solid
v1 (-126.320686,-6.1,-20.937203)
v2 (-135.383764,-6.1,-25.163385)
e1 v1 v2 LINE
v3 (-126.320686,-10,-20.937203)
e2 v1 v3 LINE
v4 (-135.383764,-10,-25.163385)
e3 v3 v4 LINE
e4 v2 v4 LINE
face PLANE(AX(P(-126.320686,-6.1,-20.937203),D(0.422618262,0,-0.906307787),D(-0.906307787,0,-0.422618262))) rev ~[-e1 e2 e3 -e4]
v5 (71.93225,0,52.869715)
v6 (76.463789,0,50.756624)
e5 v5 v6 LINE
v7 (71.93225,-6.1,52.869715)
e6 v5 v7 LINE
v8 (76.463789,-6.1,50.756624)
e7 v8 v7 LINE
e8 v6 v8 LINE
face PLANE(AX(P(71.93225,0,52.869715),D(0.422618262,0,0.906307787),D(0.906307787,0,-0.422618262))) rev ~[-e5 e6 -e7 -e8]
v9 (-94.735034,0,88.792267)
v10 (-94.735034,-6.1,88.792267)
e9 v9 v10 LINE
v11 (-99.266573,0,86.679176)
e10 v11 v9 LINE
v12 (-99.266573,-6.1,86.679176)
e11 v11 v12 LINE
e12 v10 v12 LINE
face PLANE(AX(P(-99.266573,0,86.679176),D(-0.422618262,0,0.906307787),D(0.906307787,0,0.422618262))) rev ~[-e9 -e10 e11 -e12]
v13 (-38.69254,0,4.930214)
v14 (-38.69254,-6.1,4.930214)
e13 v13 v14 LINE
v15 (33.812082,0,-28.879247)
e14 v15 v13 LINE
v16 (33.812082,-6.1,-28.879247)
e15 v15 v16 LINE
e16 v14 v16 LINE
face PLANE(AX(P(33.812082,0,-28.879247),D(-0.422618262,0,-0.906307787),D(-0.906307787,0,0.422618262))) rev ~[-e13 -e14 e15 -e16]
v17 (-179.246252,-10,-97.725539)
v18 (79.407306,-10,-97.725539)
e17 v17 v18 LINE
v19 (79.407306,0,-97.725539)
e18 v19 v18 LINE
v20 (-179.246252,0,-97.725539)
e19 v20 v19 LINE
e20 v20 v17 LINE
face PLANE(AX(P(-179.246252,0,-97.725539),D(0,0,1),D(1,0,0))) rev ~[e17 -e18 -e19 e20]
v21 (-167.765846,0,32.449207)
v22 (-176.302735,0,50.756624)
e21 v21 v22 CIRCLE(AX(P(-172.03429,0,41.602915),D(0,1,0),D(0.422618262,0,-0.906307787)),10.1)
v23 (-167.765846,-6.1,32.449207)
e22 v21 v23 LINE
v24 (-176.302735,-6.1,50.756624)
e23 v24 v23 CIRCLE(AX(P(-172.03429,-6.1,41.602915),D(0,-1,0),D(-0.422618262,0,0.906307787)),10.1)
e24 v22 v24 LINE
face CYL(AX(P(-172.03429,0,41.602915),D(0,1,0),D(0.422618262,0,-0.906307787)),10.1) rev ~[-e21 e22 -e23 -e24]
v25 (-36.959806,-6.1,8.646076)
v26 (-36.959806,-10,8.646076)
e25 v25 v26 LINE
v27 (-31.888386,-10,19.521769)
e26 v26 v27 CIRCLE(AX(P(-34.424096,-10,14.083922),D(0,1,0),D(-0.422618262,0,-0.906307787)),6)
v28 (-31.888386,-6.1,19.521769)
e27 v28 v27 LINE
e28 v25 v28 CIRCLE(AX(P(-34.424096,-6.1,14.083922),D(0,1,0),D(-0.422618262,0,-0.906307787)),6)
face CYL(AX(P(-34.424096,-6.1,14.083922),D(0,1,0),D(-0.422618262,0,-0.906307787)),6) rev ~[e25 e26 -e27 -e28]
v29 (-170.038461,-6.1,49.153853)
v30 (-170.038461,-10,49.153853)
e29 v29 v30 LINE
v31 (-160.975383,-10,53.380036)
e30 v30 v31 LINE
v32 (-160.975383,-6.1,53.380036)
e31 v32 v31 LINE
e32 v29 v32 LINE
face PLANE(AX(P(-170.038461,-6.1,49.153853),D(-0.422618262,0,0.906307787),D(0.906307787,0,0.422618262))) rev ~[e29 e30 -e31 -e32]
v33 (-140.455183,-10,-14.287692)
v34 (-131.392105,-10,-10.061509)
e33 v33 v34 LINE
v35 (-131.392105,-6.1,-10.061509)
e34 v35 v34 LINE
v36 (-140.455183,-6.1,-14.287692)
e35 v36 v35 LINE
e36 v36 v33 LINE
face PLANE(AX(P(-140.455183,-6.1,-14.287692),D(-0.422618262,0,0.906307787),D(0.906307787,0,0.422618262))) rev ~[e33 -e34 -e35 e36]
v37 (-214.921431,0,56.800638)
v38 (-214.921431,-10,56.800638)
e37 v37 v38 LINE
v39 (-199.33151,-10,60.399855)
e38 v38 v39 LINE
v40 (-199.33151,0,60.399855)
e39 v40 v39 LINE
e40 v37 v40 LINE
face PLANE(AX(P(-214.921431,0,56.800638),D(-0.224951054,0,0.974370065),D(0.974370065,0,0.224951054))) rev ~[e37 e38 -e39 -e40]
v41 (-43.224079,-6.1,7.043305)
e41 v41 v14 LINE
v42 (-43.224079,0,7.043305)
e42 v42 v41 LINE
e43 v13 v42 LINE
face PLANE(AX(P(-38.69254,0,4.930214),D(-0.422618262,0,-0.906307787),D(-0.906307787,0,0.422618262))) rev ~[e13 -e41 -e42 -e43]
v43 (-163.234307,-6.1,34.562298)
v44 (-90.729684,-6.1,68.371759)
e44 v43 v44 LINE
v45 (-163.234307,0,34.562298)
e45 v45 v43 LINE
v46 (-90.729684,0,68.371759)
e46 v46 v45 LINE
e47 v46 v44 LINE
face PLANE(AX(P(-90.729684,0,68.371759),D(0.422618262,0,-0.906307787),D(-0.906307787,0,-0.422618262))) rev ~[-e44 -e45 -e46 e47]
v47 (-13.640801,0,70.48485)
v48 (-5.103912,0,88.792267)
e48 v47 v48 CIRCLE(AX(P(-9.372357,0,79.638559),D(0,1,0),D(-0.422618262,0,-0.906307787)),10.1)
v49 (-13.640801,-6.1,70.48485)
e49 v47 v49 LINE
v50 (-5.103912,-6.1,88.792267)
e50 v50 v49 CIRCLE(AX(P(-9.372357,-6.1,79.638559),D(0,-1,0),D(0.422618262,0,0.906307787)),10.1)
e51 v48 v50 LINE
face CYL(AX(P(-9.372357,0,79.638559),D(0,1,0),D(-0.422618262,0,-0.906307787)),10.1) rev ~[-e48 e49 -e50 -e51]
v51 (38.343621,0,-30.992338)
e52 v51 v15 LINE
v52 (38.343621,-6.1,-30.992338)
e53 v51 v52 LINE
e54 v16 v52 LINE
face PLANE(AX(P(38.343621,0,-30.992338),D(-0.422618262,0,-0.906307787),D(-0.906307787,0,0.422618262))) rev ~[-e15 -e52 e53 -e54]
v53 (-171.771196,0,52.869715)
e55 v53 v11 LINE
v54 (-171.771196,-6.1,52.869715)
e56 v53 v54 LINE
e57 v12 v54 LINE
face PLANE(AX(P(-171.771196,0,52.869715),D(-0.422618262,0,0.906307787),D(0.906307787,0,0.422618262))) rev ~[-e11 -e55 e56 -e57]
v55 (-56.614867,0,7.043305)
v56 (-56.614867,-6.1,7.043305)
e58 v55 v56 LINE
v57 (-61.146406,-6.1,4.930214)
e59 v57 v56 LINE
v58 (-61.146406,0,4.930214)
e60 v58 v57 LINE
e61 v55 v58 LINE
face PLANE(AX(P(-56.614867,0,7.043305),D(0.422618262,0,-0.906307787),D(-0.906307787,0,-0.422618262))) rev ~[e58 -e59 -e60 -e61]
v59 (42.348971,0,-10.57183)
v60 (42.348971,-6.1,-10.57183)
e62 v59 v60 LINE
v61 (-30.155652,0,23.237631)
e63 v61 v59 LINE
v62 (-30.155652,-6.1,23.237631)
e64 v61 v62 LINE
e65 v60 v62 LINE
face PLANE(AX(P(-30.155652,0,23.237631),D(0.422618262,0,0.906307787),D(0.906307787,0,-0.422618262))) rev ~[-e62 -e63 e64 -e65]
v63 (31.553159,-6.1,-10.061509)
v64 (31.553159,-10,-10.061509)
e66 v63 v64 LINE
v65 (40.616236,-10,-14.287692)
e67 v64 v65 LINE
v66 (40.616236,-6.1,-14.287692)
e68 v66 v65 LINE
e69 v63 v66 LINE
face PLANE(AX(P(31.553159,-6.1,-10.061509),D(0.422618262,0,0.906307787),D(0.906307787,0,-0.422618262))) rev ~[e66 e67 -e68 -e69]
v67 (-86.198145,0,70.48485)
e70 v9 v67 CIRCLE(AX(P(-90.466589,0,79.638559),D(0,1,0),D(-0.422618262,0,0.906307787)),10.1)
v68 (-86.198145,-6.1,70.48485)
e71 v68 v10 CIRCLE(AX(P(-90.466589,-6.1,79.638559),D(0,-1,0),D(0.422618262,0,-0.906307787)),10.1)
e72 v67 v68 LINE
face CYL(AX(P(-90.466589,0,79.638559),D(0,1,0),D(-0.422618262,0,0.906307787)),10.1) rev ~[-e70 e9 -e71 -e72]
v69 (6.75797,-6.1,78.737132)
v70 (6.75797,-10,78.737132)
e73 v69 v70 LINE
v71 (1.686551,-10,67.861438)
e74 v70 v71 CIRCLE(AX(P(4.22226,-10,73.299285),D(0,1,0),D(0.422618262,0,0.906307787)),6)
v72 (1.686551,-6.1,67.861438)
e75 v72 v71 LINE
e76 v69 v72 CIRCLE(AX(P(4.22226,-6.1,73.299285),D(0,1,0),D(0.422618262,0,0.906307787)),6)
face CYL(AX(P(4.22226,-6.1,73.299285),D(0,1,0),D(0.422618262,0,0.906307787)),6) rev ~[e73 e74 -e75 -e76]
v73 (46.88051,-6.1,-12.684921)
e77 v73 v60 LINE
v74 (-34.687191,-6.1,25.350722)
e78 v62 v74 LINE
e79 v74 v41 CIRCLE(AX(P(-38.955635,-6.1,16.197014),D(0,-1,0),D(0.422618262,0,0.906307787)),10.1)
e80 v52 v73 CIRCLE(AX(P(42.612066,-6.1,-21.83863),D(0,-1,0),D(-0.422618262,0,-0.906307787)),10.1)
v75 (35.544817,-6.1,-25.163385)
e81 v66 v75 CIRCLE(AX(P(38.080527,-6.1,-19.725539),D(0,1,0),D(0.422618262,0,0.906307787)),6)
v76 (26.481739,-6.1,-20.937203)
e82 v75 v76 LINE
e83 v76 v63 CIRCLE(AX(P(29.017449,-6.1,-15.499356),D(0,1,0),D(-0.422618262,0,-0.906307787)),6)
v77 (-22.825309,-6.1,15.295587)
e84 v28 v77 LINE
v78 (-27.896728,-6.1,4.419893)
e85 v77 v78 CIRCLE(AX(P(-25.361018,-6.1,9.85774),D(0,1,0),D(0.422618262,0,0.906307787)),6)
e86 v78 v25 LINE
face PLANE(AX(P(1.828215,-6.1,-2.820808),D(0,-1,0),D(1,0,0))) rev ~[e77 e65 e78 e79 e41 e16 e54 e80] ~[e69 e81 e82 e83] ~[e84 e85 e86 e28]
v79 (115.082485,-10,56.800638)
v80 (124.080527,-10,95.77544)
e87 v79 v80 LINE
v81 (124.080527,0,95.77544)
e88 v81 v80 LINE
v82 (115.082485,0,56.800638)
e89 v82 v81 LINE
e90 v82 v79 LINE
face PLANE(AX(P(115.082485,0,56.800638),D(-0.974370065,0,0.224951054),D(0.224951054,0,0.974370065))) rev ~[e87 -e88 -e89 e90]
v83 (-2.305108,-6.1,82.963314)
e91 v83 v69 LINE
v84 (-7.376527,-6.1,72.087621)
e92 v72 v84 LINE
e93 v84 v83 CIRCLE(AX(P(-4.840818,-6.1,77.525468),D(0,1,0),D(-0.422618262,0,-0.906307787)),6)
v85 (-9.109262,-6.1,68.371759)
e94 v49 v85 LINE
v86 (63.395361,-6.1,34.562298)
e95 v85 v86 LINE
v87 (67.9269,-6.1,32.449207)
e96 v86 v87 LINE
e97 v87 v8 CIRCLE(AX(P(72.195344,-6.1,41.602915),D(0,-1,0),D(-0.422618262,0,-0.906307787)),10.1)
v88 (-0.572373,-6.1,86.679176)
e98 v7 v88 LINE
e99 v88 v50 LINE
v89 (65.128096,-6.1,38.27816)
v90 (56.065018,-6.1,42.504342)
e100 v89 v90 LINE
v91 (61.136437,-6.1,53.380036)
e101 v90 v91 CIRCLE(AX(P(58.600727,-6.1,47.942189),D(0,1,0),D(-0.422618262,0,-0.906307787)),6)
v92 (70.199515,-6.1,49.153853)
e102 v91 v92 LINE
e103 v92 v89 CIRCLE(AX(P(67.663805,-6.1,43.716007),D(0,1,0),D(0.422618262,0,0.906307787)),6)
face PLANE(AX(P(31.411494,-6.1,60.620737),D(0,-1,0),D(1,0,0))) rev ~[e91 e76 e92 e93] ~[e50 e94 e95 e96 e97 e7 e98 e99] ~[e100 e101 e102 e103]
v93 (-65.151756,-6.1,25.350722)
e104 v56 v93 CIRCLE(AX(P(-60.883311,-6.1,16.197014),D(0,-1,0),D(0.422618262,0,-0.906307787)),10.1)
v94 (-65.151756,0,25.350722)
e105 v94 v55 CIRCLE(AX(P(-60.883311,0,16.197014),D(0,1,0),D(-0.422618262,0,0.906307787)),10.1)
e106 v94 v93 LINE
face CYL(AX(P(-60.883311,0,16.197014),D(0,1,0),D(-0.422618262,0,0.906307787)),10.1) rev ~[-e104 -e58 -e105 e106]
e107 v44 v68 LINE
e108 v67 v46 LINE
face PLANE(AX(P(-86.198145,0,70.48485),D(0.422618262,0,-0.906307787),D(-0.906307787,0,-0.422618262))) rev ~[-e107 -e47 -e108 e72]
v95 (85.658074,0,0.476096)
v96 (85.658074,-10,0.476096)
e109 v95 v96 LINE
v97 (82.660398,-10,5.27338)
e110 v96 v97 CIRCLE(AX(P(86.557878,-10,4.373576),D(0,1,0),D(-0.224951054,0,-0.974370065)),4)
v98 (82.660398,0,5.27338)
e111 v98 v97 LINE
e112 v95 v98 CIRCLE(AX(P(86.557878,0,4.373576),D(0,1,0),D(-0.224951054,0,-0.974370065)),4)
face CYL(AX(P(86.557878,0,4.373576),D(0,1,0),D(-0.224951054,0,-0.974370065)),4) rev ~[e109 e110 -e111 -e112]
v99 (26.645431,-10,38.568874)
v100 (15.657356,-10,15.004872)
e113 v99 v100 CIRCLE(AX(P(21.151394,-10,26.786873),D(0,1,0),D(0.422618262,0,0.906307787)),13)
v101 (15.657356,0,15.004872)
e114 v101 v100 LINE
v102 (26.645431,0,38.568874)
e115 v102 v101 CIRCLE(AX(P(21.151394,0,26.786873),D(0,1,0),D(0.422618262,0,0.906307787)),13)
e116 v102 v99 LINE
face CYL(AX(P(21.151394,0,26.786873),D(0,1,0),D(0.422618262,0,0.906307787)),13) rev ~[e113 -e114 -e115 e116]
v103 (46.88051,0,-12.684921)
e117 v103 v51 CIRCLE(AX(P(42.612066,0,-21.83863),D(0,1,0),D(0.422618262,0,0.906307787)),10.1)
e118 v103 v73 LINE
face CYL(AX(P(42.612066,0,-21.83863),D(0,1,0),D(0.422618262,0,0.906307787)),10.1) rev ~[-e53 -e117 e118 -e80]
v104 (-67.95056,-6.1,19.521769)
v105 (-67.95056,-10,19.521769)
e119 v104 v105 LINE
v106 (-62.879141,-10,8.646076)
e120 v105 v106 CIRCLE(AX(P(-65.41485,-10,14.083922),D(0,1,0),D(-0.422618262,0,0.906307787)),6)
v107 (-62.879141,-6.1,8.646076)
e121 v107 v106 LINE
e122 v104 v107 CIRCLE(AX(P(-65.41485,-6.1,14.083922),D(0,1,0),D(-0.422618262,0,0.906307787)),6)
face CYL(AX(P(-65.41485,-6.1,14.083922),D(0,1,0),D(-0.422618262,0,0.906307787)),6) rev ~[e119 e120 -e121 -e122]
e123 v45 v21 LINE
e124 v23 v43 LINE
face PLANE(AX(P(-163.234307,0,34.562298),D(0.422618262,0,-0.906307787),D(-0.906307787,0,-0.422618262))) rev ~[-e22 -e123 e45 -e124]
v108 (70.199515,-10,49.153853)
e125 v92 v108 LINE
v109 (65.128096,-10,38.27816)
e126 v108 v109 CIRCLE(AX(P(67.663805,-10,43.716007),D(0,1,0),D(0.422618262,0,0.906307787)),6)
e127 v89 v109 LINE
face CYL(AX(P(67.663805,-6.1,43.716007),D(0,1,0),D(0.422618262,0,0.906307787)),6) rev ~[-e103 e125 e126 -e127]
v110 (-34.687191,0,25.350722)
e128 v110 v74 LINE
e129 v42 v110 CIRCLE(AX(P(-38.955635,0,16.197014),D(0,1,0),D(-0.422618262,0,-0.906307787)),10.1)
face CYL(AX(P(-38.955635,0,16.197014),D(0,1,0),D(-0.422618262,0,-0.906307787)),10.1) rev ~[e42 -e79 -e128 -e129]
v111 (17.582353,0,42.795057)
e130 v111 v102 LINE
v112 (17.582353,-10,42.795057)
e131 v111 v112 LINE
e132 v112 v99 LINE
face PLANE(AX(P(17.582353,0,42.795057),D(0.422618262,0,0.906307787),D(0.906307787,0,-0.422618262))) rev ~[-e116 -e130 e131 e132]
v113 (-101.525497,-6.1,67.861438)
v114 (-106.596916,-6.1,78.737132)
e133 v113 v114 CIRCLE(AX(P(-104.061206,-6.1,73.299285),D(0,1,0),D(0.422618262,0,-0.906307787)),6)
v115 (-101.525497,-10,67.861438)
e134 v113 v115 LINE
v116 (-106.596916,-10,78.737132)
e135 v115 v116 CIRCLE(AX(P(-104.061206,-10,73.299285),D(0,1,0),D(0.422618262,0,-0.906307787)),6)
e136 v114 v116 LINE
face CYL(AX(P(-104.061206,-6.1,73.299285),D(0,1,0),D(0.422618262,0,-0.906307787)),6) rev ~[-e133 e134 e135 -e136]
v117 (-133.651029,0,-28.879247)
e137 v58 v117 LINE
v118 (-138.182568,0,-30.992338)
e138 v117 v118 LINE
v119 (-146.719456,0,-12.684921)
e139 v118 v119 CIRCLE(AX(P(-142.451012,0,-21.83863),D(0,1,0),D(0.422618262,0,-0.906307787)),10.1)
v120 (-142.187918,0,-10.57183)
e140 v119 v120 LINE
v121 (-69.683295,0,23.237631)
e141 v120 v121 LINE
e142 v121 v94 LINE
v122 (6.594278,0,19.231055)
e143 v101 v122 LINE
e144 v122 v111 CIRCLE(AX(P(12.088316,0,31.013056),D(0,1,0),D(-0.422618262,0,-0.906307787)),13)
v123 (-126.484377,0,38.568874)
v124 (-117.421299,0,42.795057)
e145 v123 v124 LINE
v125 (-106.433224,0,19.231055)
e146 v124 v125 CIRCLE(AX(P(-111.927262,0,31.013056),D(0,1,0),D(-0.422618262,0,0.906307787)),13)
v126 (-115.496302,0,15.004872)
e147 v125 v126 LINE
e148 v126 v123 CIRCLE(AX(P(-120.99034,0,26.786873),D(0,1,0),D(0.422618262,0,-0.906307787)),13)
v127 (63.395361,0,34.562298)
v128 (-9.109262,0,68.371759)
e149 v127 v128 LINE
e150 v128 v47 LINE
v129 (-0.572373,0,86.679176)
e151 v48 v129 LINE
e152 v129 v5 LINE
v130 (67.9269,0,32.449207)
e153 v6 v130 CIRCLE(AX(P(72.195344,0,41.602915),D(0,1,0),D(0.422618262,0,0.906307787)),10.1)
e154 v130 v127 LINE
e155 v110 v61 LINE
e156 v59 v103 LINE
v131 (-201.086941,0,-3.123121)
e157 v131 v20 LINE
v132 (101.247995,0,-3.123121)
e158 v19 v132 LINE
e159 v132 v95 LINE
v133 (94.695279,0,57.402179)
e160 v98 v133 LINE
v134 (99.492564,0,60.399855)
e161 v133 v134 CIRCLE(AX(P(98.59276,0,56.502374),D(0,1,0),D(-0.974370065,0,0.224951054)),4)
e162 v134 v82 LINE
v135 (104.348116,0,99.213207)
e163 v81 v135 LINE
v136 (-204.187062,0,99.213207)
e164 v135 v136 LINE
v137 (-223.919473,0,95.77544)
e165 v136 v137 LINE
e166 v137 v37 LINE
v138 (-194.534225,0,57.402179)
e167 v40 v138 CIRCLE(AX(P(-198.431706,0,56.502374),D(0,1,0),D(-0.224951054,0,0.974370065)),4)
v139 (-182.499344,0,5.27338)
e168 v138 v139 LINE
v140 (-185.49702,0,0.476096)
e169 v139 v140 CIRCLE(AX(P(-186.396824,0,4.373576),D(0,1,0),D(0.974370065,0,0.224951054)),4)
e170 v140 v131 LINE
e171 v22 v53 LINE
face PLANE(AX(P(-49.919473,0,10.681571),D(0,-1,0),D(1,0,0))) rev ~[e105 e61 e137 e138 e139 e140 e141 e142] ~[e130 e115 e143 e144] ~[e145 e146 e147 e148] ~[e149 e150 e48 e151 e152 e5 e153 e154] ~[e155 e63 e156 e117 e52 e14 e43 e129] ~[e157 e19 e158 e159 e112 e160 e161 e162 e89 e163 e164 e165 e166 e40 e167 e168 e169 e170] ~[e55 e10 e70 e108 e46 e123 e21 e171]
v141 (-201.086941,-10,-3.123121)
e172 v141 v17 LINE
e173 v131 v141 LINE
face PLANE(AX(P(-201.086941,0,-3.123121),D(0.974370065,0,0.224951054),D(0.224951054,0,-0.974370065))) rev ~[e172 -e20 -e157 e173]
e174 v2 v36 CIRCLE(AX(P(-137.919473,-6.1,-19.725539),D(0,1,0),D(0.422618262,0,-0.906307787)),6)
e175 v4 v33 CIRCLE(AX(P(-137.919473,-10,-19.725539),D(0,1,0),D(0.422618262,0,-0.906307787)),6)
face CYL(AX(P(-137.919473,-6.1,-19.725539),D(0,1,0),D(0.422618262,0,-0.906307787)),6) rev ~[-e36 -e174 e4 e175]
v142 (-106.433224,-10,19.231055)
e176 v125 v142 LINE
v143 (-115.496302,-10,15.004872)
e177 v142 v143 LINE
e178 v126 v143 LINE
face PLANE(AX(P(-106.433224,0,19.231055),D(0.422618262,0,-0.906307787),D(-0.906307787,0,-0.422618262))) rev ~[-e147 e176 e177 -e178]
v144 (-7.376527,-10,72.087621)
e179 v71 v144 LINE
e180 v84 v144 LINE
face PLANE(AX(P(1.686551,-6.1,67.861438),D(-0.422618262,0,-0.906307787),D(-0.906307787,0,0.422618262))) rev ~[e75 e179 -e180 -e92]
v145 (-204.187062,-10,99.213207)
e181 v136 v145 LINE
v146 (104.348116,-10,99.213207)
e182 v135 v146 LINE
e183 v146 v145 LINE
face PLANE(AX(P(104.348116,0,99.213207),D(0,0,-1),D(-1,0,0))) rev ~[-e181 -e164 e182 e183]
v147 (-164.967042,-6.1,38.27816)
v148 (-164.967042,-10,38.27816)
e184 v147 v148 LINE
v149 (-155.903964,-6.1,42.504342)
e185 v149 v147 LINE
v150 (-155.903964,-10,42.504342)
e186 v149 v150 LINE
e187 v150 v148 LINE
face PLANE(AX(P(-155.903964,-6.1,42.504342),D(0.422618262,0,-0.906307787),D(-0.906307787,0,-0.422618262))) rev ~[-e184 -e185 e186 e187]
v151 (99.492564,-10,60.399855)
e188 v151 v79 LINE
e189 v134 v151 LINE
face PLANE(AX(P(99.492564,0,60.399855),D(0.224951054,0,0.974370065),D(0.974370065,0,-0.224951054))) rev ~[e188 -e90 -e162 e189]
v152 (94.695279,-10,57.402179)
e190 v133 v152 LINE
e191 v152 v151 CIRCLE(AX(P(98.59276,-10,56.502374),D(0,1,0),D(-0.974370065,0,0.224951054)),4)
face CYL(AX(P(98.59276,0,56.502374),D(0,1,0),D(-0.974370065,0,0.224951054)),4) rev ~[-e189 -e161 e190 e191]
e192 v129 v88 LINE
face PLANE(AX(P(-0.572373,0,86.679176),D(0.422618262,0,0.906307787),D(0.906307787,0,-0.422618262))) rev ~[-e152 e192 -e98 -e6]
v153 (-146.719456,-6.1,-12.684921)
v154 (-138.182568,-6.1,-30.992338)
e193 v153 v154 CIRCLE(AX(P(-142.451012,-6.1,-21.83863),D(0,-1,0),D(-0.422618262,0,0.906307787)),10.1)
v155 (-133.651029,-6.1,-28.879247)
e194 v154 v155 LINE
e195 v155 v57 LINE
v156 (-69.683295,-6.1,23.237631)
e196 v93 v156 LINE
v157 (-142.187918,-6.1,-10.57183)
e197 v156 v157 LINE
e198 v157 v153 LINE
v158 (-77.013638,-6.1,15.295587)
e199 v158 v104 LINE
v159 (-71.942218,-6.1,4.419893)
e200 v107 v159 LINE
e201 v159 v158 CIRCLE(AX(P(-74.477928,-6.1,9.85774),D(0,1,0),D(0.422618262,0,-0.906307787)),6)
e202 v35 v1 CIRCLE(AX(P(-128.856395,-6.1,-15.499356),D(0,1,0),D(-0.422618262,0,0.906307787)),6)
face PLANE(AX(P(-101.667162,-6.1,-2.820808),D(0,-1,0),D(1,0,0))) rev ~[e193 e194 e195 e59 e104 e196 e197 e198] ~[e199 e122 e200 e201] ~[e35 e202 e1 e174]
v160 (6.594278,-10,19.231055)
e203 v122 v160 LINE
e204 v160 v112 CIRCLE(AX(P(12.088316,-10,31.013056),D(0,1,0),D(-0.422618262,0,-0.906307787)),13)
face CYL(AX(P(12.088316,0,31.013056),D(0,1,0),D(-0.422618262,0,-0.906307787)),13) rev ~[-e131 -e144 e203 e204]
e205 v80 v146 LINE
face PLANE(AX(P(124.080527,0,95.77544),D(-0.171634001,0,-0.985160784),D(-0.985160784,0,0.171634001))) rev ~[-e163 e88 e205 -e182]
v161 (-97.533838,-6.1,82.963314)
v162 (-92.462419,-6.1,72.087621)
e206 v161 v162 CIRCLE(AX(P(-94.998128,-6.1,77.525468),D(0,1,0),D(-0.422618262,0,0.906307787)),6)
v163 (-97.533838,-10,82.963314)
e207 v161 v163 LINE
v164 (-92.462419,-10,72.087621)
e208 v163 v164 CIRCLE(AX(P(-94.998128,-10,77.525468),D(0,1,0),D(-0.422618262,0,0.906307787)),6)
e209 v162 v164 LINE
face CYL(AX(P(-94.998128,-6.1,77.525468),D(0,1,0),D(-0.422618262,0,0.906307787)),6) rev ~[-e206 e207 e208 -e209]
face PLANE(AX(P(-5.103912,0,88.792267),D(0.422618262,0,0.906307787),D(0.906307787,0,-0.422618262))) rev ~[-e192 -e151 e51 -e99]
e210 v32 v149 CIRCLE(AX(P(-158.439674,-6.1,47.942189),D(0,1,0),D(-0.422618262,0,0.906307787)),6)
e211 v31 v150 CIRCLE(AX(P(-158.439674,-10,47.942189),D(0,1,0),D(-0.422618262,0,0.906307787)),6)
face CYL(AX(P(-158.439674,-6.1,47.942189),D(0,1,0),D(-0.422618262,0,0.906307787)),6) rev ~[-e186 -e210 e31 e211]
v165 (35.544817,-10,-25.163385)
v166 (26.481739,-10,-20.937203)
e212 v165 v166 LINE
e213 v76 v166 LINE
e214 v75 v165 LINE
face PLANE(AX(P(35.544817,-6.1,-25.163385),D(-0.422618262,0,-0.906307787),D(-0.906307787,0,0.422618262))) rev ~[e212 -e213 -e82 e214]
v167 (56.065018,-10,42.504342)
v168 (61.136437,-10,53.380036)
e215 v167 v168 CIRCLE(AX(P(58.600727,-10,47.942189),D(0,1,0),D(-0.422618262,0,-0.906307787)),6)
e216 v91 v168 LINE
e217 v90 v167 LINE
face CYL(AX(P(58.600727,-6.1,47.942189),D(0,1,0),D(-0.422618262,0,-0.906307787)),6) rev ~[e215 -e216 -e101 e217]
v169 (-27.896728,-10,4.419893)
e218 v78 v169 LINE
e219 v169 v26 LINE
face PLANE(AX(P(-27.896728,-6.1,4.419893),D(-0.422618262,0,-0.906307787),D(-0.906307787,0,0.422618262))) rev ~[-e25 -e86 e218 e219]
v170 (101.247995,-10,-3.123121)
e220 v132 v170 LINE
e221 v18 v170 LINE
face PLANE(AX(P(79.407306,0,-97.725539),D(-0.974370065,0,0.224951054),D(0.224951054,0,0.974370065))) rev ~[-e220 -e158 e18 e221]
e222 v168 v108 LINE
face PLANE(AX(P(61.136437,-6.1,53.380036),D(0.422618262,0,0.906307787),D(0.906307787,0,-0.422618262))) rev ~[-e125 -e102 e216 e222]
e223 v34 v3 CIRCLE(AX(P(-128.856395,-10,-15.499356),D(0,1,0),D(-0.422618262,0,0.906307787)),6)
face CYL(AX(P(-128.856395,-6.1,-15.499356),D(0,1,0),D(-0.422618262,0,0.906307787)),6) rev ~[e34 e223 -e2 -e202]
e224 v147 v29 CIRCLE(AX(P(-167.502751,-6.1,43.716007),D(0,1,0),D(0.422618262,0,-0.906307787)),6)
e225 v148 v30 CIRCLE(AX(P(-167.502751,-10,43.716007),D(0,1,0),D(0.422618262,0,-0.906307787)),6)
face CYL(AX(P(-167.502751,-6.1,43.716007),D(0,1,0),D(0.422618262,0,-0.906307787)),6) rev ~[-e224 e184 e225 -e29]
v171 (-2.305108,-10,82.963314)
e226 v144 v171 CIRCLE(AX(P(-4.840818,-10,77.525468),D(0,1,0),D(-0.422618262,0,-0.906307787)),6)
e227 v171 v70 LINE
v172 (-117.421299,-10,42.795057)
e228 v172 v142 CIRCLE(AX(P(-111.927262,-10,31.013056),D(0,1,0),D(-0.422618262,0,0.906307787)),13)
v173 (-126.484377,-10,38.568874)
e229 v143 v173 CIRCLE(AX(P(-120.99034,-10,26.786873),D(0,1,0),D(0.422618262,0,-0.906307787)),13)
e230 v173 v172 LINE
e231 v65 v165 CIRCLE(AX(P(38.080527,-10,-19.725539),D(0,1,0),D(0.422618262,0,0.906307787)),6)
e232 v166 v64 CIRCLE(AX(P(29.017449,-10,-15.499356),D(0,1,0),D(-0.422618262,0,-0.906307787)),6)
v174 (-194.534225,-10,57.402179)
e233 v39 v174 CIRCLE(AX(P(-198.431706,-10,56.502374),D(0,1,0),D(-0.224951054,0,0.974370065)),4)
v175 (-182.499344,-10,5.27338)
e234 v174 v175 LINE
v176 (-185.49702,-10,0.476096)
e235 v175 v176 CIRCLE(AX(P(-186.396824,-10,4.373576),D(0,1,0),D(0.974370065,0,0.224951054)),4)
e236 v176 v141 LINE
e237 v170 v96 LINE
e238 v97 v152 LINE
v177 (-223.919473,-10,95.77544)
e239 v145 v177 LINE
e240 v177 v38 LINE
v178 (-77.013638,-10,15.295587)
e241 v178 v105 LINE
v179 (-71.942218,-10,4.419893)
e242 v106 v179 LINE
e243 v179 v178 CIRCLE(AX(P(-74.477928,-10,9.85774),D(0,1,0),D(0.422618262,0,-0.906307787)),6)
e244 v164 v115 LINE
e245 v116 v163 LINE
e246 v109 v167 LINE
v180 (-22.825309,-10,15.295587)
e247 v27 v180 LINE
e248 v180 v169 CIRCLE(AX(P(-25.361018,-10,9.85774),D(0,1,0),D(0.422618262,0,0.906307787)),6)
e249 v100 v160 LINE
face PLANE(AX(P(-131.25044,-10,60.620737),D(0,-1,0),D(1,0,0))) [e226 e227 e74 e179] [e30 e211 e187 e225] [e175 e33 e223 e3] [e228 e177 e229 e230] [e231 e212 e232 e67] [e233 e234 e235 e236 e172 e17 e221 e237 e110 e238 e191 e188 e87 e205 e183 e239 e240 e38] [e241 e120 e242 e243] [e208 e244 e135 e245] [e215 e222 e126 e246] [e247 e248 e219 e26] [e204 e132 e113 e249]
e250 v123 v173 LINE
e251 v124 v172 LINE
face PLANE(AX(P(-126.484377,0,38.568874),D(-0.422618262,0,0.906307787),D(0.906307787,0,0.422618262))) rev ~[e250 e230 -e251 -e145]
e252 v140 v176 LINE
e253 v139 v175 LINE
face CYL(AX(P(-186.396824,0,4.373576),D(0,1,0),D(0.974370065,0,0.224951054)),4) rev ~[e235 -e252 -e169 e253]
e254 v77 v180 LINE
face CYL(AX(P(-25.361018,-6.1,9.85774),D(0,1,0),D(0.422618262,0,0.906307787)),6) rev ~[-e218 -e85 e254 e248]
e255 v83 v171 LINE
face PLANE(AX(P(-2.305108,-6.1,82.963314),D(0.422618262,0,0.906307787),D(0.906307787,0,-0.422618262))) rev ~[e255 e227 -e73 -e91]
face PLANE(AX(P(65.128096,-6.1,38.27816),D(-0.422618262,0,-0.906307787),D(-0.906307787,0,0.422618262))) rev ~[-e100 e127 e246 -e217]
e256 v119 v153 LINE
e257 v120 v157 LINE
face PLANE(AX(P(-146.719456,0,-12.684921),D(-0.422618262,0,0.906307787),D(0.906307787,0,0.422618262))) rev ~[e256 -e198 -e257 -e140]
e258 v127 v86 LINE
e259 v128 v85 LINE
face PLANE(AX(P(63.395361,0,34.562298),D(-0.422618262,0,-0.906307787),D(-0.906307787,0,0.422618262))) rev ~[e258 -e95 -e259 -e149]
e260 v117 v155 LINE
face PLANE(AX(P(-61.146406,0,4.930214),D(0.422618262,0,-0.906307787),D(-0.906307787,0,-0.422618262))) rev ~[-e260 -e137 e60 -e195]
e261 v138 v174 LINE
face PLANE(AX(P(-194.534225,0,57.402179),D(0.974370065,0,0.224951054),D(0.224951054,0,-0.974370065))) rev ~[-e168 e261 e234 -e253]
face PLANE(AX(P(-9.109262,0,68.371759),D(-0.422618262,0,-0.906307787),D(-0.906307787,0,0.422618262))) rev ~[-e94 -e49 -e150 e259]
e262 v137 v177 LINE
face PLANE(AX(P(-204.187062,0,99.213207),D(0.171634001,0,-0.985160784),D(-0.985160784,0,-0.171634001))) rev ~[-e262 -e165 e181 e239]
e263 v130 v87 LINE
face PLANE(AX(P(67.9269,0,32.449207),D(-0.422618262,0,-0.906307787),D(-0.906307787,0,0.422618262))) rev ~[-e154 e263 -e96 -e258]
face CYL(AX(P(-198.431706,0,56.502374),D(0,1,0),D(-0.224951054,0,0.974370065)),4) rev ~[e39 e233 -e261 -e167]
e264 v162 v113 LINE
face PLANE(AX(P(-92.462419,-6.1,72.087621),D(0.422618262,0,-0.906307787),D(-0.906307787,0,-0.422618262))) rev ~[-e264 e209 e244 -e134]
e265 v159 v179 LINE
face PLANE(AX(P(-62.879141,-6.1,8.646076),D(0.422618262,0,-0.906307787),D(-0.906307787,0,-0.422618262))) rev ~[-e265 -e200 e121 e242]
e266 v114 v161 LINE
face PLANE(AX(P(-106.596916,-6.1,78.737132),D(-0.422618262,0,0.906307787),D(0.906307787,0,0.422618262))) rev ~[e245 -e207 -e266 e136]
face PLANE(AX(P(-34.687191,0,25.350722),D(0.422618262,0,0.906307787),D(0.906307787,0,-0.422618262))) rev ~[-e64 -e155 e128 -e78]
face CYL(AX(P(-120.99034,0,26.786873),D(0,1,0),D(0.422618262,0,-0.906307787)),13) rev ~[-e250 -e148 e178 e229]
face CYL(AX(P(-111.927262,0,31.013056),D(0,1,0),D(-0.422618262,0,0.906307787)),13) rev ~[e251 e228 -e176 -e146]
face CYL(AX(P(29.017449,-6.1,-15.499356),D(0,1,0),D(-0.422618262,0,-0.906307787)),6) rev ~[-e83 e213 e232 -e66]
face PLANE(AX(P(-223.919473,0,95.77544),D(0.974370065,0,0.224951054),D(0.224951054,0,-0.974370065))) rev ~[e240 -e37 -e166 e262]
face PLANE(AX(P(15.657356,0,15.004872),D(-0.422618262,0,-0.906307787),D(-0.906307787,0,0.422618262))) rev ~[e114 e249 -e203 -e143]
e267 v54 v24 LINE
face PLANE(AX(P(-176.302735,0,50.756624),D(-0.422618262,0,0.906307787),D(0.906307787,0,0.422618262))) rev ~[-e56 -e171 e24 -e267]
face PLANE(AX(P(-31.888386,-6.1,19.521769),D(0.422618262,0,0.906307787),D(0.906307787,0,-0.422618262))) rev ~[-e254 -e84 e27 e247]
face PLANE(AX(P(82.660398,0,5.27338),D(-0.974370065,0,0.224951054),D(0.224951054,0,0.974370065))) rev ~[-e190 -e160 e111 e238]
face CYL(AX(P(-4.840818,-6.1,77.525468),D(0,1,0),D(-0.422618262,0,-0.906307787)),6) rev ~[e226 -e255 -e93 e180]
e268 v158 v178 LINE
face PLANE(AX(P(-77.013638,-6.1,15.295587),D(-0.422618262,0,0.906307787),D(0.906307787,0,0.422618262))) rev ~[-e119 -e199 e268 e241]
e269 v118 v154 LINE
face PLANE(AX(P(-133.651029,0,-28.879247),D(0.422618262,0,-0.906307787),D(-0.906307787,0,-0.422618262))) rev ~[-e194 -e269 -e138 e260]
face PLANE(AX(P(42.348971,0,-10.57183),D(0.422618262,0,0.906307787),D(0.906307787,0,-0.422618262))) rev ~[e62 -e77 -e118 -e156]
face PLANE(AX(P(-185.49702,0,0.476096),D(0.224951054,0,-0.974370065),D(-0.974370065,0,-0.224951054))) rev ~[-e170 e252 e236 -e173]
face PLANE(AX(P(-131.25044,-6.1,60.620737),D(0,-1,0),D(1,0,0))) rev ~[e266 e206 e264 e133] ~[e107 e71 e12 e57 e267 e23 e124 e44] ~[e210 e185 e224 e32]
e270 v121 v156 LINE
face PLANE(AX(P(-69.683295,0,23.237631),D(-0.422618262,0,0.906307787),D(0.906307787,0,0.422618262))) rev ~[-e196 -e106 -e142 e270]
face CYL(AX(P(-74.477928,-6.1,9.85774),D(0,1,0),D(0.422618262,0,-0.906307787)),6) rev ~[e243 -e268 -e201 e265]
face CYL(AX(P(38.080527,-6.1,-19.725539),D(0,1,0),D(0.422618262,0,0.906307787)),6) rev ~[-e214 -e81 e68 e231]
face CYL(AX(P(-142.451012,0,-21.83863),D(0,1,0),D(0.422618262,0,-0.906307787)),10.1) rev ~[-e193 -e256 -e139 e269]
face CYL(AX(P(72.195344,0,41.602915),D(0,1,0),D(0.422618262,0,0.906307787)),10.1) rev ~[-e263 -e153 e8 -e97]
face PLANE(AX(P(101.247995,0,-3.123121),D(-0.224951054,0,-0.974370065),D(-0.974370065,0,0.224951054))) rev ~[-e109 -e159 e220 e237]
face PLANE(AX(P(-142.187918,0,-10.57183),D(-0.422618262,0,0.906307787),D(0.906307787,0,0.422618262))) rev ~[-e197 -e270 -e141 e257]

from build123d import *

# Parameters (mm, degrees)
F1_DEPTH = 10
F2_START = 6.1
F2_DEPTH = 3.9


with BuildPart() as f1:
    # F0 (on Front) → F1 (new body)
    with BuildSketch(Plane.XZ):
        with BuildLine():
            Line((-10.0713614853, 99.2132068528), (-89.767584656, 99.2132068528))
            Line((-89.767584656, 99.2132068528), (-204.1870618351, 99.2132068528))
            Line((-204.1870618351, 99.2132068528), (-223.9194730707, 95.7754404094))
            Line((-223.9194730707, 95.7754404094), (-214.9214308969, 56.800637818))
            Line((-214.9214308969, 56.800637818), (-199.3315098604, 60.3998546875))
            ThreePointArc((-199.3315098604, 60.3998546875), (-196.3120285861, 59.8945668129), (-194.5342253839, 57.4021786457))
            Line((-194.5342253839, 57.4021786457), (-182.4993439765, 5.2733801797))
            ThreePointArc((-182.4993439765, 5.2733801797), (-183.004631851, 2.2538989054), (-185.4970200182, 0.4760957032))
            Line((-185.4970200182, 0.4760957032), (-201.0869410548, -3.1231211663))
            Line((-201.0869410548, -3.1231211663), (-179.246252088, -97.7255385038))
            Line((-179.246252088, -97.7255385038), (-49.9194730707, -97.7255385038))
            Line((-49.9194730707, -97.7255385038), (79.4073059466, -97.7255385038))
            Line((79.4073059466, -97.7255385038), (101.2479949134, -3.1231211663))
            Line((101.2479949134, -3.1231211663), (85.6580738768, 0.4760957032))
            ThreePointArc((85.6580738768, 0.4760957032), (83.1656857096, 2.2538989054), (82.6603978351, 5.2733801797))
            Line((82.6603978351, 5.2733801797), (94.6952792425, 57.4021786457))
            ThreePointArc((94.6952792425, 57.4021786457), (96.4730824447, 59.8945668129), (99.492563719, 60.3998546875))
            Line((99.492563719, 60.3998546875), (115.0824847556, 56.800637818))
            Line((115.0824847556, 56.800637818), (124.0805269293, 95.7754404094))
            Line((124.0805269293, 95.7754404094), (104.3481156937, 99.2132068528))
            Line((104.3481156937, 99.2132068528), (-10.0713614853, 99.2132068528))
        make_face()
        with BuildLine():
            Line((-146.7194564495, -12.6849211634), (-142.1879175143, -10.5718298547))
            Line((-142.1879175143, -10.5718298547), (-69.6832945513, 23.2376310846))
            Line((-69.6832945513, 23.2376310846), (-65.1517556162, 25.3507223933))
            ThreePointArc((-65.1517556162, 25.3507223933), (-51.7296025235, 20.4654581878), (-56.614866729, 7.0433050951))
            Line((-56.614866729, 7.0433050951), (-61.1464056642, 4.9302137864))
            Line((-61.1464056642, 4.9302137864), (-133.6510286271, -28.8792471528))
            Line((-133.6510286271, -28.8792471528), (-138.1825675623, -30.9923384615))
            ThreePointArc((-138.1825675623, -30.9923384615), (-151.6047206549, -26.107074256), (-146.7194564495, -12.6849211634))
        make_face(mode=Mode.SUBTRACT)
        with BuildLine():
            Line((38.3436214209, -30.9923384615), (33.8120824857, -28.8792471528))
            Line((33.8120824857, -28.8792471528), (-38.6925404772, 4.9302137864))
            Line((-38.6925404772, 4.9302137864), (-43.2240794124, 7.0433050951))
            ThreePointArc((-43.2240794124, 7.0433050951), (-48.1093436179, 20.4654581878), (-34.6871905252, 25.3507223933))
            Line((-34.6871905252, 25.3507223933), (-30.15565159, 23.2376310846))
            Line((-30.15565159, 23.2376310846), (42.3489713729, -10.5718298547))
            Line((42.3489713729, -10.5718298547), (46.8805103081, -12.6849211634))
            ThreePointArc((46.8805103081, -12.6849211634), (51.7657745136, -26.107074256), (38.3436214209, -30.9923384615))
        make_face(mode=Mode.SUBTRACT)
        with BuildLine():
            ThreePointArc((-115.4963022827, 15.004871972), (-132.7723409168, 21.2928358008), (-126.484377088, 38.5688744349))
            Line((-126.484377088, 38.5688744349), (-117.4212992176, 42.7950570523))
            ThreePointArc((-117.4212992176, 42.7950570523), (-100.1452605835, 36.5070932235), (-106.4332244123, 19.2310545894))
            Line((-106.4332244123, 19.2310545894), (-115.4963022827, 15.004871972))
        make_face(mode=Mode.SUBTRACT)
        with BuildLine():
            Line((-90.729683986, 68.371758879), (-163.234306949, 34.5622979397))
            Line((-163.234306949, 34.5622979397), (-167.7658458841, 32.449206631))
            ThreePointArc((-167.7658458841, 32.449206631), (-181.1879989768, 37.3344708365), (-176.3027347713, 50.7566239292))
            Line((-176.3027347713, 50.7566239292), (-171.7711958361, 52.8697152379))
            Line((-171.7711958361, 52.8697152379), (-99.2665728732, 86.6791761771))
            Line((-99.2665728732, 86.6791761771), (-94.735033938, 88.7922674858))
            ThreePointArc((-94.735033938, 88.7922674858), (-81.3128808454, 83.9070032804), (-86.1981450508, 70.4848501877))
            Line((-86.1981450508, 70.4848501877), (-90.729683986, 68.371758879))
        make_face(mode=Mode.SUBTRACT)
        with BuildLine():
            ThreePointArc((26.6454309466, 38.5688744349), (32.9333947754, 21.2928358008), (15.6573561413, 15.004871972))
            Line((15.6573561413, 15.004871972), (6.594278271, 19.2310545894))
            ThreePointArc((6.594278271, 19.2310545894), (0.3063144421, 36.5070932235), (17.5823530762, 42.7950570523))
            Line((17.5823530762, 42.7950570523), (26.6454309466, 38.5688744349))
        make_face(mode=Mode.SUBTRACT)
        with BuildLine():
            Line((-0.5723732682, 86.6791761771), (71.9322496947, 52.8697152379))
            Line((71.9322496947, 52.8697152379), (76.4637886299, 50.7566239292))
            ThreePointArc((76.4637886299, 50.7566239292), (81.3490528354, 37.3344708365), (67.9268997428, 32.449206631))
            Line((67.9268997428, 32.449206631), (63.3953608076, 34.5622979397))
            Line((63.3953608076, 34.5622979397), (-9.1092621554, 68.371758879))
            Line((-9.1092621554, 68.371758879), (-13.6408010905, 70.4848501877))
            ThreePointArc((-13.6408010905, 70.4848501877), (-18.526065296, 83.9070032804), (-5.1039122034, 88.7922674858))
            Line((-5.1039122034, 88.7922674858), (-0.5723732682, 86.6791761771))
        make_face(mode=Mode.SUBTRACT)
    extrude(amount=F1_DEPTH)

    # F0 (on Front) → F2 (join)
    with BuildSketch(Plane.XZ.offset(F2_START)):
        with BuildLine():
            Line((-167.7658458841, 32.449206631), (-163.234306949, 34.5622979397))
            Line((-163.234306949, 34.5622979397), (-90.729683986, 68.371758879))
            Line((-90.729683986, 68.371758879), (-86.1981450508, 70.4848501877))
            ThreePointArc((-86.1981450508, 70.4848501877), (-81.3128808454, 83.9070032804), (-94.735033938, 88.7922674858))
            Line((-94.735033938, 88.7922674858), (-99.2665728732, 86.6791761771))
            Line((-99.2665728732, 86.6791761771), (-171.7711958361, 52.8697152379))
            Line((-171.7711958361, 52.8697152379), (-176.3027347713, 50.7566239292))
            ThreePointArc((-176.3027347713, 50.7566239292), (-181.1879989768, 37.3344708365), (-167.7658458841, 32.449206631))
        make_face()
        with BuildLine():
            Line((-155.9039639517, 42.504342484), (-164.9670418221, 38.2781598666))
            ThreePointArc((-164.9670418221, 38.2781598666), (-172.9405981148, 41.1802970184), (-170.038460963, 49.153853311))
            Line((-170.038460963, 49.153853311), (-160.9753830926, 53.3800359284))
            ThreePointArc((-160.9753830926, 53.3800359284), (-153.0018268, 50.4778987767), (-155.9039639517, 42.504342484))
        make_face(mode=Mode.SUBTRACT)
        with BuildLine():
            ThreePointArc((-97.533838, 82.9633142503), (-89.5602817074, 80.0611770985), (-92.4624188592, 72.0876208058))
            Line((-92.4624188592, 72.0876208058), (-101.5254967295, 67.8614381884))
            ThreePointArc((-101.5254967295, 67.8614381884), (-109.4990530222, 70.7635753402), (-106.5969158704, 78.7371316329))
            Line((-106.5969158704, 78.7371316329), (-97.533838, 82.9633142503))
        make_face(mode=Mode.SUBTRACT)
        with BuildLine():
            Line((76.4637886299, 50.7566239292), (71.9322496947, 52.8697152379))
            Line((71.9322496947, 52.8697152379), (-0.5723732682, 86.6791761771))
            Line((-0.5723732682, 86.6791761771), (-5.1039122034, 88.7922674858))
            ThreePointArc((-5.1039122034, 88.7922674858), (-18.526065296, 83.9070032804), (-13.6408010905, 70.4848501877))
            Line((-13.6408010905, 70.4848501877), (-9.1092621554, 68.371758879))
            Line((-9.1092621554, 68.371758879), (63.3953608076, 34.5622979397))
            Line((63.3953608076, 34.5622979397), (67.9268997428, 32.449206631))
            ThreePointArc((67.9268997428, 32.449206631), (81.3490528354, 37.3344708365), (76.4637886299, 50.7566239292))
        make_face()
        with BuildLine():
            ThreePointArc((70.1995148216, 49.153853311), (73.1016519734, 41.1802970184), (65.1280956807, 38.2781598666))
            Line((65.1280956807, 38.2781598666), (56.0650178103, 42.504342484))
            ThreePointArc((56.0650178103, 42.504342484), (53.1628806586, 50.4778987767), (61.1364369512, 53.3800359284))
            Line((61.1364369512, 53.3800359284), (70.1995148216, 49.153853311))
        make_face(mode=Mode.SUBTRACT)
        with BuildLine():
            ThreePointArc((-7.3765272822, 72.0876208058), (-10.278664434, 80.0611770985), (-2.3051081413, 82.9633142503))
            Line((-2.3051081413, 82.9633142503), (6.757969729, 78.7371316329))
            ThreePointArc((6.757969729, 78.7371316329), (9.6601068808, 70.7635753402), (1.6865505881, 67.8614381884))
            Line((1.6865505881, 67.8614381884), (-7.3765272822, 72.0876208058))
        make_face(mode=Mode.SUBTRACT)
        with BuildLine():
            Line((-69.6832945513, 23.2376310846), (-142.1879175143, -10.5718298547))
            Line((-142.1879175143, -10.5718298547), (-146.7194564495, -12.6849211634))
            ThreePointArc((-146.7194564495, -12.6849211634), (-151.6047206549, -26.107074256), (-138.1825675623, -30.9923384615))
            Line((-138.1825675623, -30.9923384615), (-133.6510286271, -28.8792471528))
            Line((-133.6510286271, -28.8792471528), (-61.1464056642, 4.9302137864))
            Line((-61.1464056642, 4.9302137864), (-56.614866729, 7.0433050951))
            ThreePointArc((-56.614866729, 7.0433050951), (-51.7296025235, 20.4654581878), (-65.1517556162, 25.3507223933))
            Line((-65.1517556162, 25.3507223933), (-69.6832945513, 23.2376310846))
        make_face()
        with BuildLine():
            ThreePointArc((-135.3837635002, -25.163385226), (-143.3573197929, -22.2612480742), (-140.4551826411, -14.2876917815))
            Line((-140.4551826411, -14.2876917815), (-131.3921047708, -10.0615091641))
            ThreePointArc((-131.3921047708, -10.0615091641), (-123.4185484781, -12.9636463159), (-126.3206856299, -20.9372026086))
            Line((-126.3206856299, -20.9372026086), (-135.3837635002, -25.163385226))
        make_face(mode=Mode.SUBTRACT)
        with BuildLine():
            Line((-62.8791405373, 8.6460757133), (-71.9422184077, 4.4198930959))
            ThreePointArc((-71.9422184077, 4.4198930959), (-79.9157747003, 7.3220302477), (-77.0136375486, 15.2955865403))
            Line((-77.0136375486, 15.2955865403), (-67.9505596782, 19.5217691577))
            ThreePointArc((-67.9505596782, 19.5217691577), (-59.9770033855, 16.6196320059), (-62.8791405373, 8.6460757133))
        make_face(mode=Mode.SUBTRACT)
        with BuildLine():
            Line((-38.6925404772, 4.9302137864), (33.8120824857, -28.8792471528))
            Line((33.8120824857, -28.8792471528), (38.3436214209, -30.9923384615))
            ThreePointArc((38.3436214209, -30.9923384615), (51.7657745136, -26.107074256), (46.8805103081, -12.6849211634))
            Line((46.8805103081, -12.6849211634), (42.3489713729, -10.5718298547))
            Line((42.3489713729, -10.5718298547), (-30.15565159, 23.2376310846))
            Line((-30.15565159, 23.2376310846), (-34.6871905252, 25.3507223933))
            ThreePointArc((-34.6871905252, 25.3507223933), (-48.1093436179, 20.4654581878), (-43.2240794124, 7.0433050951))
            Line((-43.2240794124, 7.0433050951), (-38.6925404772, 4.9302137864))
        make_face()
        with BuildLine():
            ThreePointArc((40.6162364998, -14.2876917815), (43.5183736515, -22.2612480742), (35.5448173589, -25.163385226))
            Line((35.5448173589, -25.163385226), (26.4817394885, -20.9372026086))
            ThreePointArc((26.4817394885, -20.9372026086), (23.5796023367, -12.9636463159), (31.5531586294, -10.0615091641))
            Line((31.5531586294, -10.0615091641), (40.6162364998, -14.2876917815))
        make_face(mode=Mode.SUBTRACT)
        with BuildLine():
            ThreePointArc((-36.9598056041, 8.6460757133), (-39.8619427558, 16.6196320059), (-31.8883864632, 19.5217691577))
            Line((-31.8883864632, 19.5217691577), (-22.8253085928, 15.2955865403))
            ThreePointArc((-22.8253085928, 15.2955865403), (-19.923171441, 7.3220302477), (-27.8967277337, 4.4198930959))
            Line((-27.8967277337, 4.4198930959), (-36.9598056041, 8.6460757133))
        make_face(mode=Mode.SUBTRACT)
    extrude(amount=F2_DEPTH)


solid = f1.part
